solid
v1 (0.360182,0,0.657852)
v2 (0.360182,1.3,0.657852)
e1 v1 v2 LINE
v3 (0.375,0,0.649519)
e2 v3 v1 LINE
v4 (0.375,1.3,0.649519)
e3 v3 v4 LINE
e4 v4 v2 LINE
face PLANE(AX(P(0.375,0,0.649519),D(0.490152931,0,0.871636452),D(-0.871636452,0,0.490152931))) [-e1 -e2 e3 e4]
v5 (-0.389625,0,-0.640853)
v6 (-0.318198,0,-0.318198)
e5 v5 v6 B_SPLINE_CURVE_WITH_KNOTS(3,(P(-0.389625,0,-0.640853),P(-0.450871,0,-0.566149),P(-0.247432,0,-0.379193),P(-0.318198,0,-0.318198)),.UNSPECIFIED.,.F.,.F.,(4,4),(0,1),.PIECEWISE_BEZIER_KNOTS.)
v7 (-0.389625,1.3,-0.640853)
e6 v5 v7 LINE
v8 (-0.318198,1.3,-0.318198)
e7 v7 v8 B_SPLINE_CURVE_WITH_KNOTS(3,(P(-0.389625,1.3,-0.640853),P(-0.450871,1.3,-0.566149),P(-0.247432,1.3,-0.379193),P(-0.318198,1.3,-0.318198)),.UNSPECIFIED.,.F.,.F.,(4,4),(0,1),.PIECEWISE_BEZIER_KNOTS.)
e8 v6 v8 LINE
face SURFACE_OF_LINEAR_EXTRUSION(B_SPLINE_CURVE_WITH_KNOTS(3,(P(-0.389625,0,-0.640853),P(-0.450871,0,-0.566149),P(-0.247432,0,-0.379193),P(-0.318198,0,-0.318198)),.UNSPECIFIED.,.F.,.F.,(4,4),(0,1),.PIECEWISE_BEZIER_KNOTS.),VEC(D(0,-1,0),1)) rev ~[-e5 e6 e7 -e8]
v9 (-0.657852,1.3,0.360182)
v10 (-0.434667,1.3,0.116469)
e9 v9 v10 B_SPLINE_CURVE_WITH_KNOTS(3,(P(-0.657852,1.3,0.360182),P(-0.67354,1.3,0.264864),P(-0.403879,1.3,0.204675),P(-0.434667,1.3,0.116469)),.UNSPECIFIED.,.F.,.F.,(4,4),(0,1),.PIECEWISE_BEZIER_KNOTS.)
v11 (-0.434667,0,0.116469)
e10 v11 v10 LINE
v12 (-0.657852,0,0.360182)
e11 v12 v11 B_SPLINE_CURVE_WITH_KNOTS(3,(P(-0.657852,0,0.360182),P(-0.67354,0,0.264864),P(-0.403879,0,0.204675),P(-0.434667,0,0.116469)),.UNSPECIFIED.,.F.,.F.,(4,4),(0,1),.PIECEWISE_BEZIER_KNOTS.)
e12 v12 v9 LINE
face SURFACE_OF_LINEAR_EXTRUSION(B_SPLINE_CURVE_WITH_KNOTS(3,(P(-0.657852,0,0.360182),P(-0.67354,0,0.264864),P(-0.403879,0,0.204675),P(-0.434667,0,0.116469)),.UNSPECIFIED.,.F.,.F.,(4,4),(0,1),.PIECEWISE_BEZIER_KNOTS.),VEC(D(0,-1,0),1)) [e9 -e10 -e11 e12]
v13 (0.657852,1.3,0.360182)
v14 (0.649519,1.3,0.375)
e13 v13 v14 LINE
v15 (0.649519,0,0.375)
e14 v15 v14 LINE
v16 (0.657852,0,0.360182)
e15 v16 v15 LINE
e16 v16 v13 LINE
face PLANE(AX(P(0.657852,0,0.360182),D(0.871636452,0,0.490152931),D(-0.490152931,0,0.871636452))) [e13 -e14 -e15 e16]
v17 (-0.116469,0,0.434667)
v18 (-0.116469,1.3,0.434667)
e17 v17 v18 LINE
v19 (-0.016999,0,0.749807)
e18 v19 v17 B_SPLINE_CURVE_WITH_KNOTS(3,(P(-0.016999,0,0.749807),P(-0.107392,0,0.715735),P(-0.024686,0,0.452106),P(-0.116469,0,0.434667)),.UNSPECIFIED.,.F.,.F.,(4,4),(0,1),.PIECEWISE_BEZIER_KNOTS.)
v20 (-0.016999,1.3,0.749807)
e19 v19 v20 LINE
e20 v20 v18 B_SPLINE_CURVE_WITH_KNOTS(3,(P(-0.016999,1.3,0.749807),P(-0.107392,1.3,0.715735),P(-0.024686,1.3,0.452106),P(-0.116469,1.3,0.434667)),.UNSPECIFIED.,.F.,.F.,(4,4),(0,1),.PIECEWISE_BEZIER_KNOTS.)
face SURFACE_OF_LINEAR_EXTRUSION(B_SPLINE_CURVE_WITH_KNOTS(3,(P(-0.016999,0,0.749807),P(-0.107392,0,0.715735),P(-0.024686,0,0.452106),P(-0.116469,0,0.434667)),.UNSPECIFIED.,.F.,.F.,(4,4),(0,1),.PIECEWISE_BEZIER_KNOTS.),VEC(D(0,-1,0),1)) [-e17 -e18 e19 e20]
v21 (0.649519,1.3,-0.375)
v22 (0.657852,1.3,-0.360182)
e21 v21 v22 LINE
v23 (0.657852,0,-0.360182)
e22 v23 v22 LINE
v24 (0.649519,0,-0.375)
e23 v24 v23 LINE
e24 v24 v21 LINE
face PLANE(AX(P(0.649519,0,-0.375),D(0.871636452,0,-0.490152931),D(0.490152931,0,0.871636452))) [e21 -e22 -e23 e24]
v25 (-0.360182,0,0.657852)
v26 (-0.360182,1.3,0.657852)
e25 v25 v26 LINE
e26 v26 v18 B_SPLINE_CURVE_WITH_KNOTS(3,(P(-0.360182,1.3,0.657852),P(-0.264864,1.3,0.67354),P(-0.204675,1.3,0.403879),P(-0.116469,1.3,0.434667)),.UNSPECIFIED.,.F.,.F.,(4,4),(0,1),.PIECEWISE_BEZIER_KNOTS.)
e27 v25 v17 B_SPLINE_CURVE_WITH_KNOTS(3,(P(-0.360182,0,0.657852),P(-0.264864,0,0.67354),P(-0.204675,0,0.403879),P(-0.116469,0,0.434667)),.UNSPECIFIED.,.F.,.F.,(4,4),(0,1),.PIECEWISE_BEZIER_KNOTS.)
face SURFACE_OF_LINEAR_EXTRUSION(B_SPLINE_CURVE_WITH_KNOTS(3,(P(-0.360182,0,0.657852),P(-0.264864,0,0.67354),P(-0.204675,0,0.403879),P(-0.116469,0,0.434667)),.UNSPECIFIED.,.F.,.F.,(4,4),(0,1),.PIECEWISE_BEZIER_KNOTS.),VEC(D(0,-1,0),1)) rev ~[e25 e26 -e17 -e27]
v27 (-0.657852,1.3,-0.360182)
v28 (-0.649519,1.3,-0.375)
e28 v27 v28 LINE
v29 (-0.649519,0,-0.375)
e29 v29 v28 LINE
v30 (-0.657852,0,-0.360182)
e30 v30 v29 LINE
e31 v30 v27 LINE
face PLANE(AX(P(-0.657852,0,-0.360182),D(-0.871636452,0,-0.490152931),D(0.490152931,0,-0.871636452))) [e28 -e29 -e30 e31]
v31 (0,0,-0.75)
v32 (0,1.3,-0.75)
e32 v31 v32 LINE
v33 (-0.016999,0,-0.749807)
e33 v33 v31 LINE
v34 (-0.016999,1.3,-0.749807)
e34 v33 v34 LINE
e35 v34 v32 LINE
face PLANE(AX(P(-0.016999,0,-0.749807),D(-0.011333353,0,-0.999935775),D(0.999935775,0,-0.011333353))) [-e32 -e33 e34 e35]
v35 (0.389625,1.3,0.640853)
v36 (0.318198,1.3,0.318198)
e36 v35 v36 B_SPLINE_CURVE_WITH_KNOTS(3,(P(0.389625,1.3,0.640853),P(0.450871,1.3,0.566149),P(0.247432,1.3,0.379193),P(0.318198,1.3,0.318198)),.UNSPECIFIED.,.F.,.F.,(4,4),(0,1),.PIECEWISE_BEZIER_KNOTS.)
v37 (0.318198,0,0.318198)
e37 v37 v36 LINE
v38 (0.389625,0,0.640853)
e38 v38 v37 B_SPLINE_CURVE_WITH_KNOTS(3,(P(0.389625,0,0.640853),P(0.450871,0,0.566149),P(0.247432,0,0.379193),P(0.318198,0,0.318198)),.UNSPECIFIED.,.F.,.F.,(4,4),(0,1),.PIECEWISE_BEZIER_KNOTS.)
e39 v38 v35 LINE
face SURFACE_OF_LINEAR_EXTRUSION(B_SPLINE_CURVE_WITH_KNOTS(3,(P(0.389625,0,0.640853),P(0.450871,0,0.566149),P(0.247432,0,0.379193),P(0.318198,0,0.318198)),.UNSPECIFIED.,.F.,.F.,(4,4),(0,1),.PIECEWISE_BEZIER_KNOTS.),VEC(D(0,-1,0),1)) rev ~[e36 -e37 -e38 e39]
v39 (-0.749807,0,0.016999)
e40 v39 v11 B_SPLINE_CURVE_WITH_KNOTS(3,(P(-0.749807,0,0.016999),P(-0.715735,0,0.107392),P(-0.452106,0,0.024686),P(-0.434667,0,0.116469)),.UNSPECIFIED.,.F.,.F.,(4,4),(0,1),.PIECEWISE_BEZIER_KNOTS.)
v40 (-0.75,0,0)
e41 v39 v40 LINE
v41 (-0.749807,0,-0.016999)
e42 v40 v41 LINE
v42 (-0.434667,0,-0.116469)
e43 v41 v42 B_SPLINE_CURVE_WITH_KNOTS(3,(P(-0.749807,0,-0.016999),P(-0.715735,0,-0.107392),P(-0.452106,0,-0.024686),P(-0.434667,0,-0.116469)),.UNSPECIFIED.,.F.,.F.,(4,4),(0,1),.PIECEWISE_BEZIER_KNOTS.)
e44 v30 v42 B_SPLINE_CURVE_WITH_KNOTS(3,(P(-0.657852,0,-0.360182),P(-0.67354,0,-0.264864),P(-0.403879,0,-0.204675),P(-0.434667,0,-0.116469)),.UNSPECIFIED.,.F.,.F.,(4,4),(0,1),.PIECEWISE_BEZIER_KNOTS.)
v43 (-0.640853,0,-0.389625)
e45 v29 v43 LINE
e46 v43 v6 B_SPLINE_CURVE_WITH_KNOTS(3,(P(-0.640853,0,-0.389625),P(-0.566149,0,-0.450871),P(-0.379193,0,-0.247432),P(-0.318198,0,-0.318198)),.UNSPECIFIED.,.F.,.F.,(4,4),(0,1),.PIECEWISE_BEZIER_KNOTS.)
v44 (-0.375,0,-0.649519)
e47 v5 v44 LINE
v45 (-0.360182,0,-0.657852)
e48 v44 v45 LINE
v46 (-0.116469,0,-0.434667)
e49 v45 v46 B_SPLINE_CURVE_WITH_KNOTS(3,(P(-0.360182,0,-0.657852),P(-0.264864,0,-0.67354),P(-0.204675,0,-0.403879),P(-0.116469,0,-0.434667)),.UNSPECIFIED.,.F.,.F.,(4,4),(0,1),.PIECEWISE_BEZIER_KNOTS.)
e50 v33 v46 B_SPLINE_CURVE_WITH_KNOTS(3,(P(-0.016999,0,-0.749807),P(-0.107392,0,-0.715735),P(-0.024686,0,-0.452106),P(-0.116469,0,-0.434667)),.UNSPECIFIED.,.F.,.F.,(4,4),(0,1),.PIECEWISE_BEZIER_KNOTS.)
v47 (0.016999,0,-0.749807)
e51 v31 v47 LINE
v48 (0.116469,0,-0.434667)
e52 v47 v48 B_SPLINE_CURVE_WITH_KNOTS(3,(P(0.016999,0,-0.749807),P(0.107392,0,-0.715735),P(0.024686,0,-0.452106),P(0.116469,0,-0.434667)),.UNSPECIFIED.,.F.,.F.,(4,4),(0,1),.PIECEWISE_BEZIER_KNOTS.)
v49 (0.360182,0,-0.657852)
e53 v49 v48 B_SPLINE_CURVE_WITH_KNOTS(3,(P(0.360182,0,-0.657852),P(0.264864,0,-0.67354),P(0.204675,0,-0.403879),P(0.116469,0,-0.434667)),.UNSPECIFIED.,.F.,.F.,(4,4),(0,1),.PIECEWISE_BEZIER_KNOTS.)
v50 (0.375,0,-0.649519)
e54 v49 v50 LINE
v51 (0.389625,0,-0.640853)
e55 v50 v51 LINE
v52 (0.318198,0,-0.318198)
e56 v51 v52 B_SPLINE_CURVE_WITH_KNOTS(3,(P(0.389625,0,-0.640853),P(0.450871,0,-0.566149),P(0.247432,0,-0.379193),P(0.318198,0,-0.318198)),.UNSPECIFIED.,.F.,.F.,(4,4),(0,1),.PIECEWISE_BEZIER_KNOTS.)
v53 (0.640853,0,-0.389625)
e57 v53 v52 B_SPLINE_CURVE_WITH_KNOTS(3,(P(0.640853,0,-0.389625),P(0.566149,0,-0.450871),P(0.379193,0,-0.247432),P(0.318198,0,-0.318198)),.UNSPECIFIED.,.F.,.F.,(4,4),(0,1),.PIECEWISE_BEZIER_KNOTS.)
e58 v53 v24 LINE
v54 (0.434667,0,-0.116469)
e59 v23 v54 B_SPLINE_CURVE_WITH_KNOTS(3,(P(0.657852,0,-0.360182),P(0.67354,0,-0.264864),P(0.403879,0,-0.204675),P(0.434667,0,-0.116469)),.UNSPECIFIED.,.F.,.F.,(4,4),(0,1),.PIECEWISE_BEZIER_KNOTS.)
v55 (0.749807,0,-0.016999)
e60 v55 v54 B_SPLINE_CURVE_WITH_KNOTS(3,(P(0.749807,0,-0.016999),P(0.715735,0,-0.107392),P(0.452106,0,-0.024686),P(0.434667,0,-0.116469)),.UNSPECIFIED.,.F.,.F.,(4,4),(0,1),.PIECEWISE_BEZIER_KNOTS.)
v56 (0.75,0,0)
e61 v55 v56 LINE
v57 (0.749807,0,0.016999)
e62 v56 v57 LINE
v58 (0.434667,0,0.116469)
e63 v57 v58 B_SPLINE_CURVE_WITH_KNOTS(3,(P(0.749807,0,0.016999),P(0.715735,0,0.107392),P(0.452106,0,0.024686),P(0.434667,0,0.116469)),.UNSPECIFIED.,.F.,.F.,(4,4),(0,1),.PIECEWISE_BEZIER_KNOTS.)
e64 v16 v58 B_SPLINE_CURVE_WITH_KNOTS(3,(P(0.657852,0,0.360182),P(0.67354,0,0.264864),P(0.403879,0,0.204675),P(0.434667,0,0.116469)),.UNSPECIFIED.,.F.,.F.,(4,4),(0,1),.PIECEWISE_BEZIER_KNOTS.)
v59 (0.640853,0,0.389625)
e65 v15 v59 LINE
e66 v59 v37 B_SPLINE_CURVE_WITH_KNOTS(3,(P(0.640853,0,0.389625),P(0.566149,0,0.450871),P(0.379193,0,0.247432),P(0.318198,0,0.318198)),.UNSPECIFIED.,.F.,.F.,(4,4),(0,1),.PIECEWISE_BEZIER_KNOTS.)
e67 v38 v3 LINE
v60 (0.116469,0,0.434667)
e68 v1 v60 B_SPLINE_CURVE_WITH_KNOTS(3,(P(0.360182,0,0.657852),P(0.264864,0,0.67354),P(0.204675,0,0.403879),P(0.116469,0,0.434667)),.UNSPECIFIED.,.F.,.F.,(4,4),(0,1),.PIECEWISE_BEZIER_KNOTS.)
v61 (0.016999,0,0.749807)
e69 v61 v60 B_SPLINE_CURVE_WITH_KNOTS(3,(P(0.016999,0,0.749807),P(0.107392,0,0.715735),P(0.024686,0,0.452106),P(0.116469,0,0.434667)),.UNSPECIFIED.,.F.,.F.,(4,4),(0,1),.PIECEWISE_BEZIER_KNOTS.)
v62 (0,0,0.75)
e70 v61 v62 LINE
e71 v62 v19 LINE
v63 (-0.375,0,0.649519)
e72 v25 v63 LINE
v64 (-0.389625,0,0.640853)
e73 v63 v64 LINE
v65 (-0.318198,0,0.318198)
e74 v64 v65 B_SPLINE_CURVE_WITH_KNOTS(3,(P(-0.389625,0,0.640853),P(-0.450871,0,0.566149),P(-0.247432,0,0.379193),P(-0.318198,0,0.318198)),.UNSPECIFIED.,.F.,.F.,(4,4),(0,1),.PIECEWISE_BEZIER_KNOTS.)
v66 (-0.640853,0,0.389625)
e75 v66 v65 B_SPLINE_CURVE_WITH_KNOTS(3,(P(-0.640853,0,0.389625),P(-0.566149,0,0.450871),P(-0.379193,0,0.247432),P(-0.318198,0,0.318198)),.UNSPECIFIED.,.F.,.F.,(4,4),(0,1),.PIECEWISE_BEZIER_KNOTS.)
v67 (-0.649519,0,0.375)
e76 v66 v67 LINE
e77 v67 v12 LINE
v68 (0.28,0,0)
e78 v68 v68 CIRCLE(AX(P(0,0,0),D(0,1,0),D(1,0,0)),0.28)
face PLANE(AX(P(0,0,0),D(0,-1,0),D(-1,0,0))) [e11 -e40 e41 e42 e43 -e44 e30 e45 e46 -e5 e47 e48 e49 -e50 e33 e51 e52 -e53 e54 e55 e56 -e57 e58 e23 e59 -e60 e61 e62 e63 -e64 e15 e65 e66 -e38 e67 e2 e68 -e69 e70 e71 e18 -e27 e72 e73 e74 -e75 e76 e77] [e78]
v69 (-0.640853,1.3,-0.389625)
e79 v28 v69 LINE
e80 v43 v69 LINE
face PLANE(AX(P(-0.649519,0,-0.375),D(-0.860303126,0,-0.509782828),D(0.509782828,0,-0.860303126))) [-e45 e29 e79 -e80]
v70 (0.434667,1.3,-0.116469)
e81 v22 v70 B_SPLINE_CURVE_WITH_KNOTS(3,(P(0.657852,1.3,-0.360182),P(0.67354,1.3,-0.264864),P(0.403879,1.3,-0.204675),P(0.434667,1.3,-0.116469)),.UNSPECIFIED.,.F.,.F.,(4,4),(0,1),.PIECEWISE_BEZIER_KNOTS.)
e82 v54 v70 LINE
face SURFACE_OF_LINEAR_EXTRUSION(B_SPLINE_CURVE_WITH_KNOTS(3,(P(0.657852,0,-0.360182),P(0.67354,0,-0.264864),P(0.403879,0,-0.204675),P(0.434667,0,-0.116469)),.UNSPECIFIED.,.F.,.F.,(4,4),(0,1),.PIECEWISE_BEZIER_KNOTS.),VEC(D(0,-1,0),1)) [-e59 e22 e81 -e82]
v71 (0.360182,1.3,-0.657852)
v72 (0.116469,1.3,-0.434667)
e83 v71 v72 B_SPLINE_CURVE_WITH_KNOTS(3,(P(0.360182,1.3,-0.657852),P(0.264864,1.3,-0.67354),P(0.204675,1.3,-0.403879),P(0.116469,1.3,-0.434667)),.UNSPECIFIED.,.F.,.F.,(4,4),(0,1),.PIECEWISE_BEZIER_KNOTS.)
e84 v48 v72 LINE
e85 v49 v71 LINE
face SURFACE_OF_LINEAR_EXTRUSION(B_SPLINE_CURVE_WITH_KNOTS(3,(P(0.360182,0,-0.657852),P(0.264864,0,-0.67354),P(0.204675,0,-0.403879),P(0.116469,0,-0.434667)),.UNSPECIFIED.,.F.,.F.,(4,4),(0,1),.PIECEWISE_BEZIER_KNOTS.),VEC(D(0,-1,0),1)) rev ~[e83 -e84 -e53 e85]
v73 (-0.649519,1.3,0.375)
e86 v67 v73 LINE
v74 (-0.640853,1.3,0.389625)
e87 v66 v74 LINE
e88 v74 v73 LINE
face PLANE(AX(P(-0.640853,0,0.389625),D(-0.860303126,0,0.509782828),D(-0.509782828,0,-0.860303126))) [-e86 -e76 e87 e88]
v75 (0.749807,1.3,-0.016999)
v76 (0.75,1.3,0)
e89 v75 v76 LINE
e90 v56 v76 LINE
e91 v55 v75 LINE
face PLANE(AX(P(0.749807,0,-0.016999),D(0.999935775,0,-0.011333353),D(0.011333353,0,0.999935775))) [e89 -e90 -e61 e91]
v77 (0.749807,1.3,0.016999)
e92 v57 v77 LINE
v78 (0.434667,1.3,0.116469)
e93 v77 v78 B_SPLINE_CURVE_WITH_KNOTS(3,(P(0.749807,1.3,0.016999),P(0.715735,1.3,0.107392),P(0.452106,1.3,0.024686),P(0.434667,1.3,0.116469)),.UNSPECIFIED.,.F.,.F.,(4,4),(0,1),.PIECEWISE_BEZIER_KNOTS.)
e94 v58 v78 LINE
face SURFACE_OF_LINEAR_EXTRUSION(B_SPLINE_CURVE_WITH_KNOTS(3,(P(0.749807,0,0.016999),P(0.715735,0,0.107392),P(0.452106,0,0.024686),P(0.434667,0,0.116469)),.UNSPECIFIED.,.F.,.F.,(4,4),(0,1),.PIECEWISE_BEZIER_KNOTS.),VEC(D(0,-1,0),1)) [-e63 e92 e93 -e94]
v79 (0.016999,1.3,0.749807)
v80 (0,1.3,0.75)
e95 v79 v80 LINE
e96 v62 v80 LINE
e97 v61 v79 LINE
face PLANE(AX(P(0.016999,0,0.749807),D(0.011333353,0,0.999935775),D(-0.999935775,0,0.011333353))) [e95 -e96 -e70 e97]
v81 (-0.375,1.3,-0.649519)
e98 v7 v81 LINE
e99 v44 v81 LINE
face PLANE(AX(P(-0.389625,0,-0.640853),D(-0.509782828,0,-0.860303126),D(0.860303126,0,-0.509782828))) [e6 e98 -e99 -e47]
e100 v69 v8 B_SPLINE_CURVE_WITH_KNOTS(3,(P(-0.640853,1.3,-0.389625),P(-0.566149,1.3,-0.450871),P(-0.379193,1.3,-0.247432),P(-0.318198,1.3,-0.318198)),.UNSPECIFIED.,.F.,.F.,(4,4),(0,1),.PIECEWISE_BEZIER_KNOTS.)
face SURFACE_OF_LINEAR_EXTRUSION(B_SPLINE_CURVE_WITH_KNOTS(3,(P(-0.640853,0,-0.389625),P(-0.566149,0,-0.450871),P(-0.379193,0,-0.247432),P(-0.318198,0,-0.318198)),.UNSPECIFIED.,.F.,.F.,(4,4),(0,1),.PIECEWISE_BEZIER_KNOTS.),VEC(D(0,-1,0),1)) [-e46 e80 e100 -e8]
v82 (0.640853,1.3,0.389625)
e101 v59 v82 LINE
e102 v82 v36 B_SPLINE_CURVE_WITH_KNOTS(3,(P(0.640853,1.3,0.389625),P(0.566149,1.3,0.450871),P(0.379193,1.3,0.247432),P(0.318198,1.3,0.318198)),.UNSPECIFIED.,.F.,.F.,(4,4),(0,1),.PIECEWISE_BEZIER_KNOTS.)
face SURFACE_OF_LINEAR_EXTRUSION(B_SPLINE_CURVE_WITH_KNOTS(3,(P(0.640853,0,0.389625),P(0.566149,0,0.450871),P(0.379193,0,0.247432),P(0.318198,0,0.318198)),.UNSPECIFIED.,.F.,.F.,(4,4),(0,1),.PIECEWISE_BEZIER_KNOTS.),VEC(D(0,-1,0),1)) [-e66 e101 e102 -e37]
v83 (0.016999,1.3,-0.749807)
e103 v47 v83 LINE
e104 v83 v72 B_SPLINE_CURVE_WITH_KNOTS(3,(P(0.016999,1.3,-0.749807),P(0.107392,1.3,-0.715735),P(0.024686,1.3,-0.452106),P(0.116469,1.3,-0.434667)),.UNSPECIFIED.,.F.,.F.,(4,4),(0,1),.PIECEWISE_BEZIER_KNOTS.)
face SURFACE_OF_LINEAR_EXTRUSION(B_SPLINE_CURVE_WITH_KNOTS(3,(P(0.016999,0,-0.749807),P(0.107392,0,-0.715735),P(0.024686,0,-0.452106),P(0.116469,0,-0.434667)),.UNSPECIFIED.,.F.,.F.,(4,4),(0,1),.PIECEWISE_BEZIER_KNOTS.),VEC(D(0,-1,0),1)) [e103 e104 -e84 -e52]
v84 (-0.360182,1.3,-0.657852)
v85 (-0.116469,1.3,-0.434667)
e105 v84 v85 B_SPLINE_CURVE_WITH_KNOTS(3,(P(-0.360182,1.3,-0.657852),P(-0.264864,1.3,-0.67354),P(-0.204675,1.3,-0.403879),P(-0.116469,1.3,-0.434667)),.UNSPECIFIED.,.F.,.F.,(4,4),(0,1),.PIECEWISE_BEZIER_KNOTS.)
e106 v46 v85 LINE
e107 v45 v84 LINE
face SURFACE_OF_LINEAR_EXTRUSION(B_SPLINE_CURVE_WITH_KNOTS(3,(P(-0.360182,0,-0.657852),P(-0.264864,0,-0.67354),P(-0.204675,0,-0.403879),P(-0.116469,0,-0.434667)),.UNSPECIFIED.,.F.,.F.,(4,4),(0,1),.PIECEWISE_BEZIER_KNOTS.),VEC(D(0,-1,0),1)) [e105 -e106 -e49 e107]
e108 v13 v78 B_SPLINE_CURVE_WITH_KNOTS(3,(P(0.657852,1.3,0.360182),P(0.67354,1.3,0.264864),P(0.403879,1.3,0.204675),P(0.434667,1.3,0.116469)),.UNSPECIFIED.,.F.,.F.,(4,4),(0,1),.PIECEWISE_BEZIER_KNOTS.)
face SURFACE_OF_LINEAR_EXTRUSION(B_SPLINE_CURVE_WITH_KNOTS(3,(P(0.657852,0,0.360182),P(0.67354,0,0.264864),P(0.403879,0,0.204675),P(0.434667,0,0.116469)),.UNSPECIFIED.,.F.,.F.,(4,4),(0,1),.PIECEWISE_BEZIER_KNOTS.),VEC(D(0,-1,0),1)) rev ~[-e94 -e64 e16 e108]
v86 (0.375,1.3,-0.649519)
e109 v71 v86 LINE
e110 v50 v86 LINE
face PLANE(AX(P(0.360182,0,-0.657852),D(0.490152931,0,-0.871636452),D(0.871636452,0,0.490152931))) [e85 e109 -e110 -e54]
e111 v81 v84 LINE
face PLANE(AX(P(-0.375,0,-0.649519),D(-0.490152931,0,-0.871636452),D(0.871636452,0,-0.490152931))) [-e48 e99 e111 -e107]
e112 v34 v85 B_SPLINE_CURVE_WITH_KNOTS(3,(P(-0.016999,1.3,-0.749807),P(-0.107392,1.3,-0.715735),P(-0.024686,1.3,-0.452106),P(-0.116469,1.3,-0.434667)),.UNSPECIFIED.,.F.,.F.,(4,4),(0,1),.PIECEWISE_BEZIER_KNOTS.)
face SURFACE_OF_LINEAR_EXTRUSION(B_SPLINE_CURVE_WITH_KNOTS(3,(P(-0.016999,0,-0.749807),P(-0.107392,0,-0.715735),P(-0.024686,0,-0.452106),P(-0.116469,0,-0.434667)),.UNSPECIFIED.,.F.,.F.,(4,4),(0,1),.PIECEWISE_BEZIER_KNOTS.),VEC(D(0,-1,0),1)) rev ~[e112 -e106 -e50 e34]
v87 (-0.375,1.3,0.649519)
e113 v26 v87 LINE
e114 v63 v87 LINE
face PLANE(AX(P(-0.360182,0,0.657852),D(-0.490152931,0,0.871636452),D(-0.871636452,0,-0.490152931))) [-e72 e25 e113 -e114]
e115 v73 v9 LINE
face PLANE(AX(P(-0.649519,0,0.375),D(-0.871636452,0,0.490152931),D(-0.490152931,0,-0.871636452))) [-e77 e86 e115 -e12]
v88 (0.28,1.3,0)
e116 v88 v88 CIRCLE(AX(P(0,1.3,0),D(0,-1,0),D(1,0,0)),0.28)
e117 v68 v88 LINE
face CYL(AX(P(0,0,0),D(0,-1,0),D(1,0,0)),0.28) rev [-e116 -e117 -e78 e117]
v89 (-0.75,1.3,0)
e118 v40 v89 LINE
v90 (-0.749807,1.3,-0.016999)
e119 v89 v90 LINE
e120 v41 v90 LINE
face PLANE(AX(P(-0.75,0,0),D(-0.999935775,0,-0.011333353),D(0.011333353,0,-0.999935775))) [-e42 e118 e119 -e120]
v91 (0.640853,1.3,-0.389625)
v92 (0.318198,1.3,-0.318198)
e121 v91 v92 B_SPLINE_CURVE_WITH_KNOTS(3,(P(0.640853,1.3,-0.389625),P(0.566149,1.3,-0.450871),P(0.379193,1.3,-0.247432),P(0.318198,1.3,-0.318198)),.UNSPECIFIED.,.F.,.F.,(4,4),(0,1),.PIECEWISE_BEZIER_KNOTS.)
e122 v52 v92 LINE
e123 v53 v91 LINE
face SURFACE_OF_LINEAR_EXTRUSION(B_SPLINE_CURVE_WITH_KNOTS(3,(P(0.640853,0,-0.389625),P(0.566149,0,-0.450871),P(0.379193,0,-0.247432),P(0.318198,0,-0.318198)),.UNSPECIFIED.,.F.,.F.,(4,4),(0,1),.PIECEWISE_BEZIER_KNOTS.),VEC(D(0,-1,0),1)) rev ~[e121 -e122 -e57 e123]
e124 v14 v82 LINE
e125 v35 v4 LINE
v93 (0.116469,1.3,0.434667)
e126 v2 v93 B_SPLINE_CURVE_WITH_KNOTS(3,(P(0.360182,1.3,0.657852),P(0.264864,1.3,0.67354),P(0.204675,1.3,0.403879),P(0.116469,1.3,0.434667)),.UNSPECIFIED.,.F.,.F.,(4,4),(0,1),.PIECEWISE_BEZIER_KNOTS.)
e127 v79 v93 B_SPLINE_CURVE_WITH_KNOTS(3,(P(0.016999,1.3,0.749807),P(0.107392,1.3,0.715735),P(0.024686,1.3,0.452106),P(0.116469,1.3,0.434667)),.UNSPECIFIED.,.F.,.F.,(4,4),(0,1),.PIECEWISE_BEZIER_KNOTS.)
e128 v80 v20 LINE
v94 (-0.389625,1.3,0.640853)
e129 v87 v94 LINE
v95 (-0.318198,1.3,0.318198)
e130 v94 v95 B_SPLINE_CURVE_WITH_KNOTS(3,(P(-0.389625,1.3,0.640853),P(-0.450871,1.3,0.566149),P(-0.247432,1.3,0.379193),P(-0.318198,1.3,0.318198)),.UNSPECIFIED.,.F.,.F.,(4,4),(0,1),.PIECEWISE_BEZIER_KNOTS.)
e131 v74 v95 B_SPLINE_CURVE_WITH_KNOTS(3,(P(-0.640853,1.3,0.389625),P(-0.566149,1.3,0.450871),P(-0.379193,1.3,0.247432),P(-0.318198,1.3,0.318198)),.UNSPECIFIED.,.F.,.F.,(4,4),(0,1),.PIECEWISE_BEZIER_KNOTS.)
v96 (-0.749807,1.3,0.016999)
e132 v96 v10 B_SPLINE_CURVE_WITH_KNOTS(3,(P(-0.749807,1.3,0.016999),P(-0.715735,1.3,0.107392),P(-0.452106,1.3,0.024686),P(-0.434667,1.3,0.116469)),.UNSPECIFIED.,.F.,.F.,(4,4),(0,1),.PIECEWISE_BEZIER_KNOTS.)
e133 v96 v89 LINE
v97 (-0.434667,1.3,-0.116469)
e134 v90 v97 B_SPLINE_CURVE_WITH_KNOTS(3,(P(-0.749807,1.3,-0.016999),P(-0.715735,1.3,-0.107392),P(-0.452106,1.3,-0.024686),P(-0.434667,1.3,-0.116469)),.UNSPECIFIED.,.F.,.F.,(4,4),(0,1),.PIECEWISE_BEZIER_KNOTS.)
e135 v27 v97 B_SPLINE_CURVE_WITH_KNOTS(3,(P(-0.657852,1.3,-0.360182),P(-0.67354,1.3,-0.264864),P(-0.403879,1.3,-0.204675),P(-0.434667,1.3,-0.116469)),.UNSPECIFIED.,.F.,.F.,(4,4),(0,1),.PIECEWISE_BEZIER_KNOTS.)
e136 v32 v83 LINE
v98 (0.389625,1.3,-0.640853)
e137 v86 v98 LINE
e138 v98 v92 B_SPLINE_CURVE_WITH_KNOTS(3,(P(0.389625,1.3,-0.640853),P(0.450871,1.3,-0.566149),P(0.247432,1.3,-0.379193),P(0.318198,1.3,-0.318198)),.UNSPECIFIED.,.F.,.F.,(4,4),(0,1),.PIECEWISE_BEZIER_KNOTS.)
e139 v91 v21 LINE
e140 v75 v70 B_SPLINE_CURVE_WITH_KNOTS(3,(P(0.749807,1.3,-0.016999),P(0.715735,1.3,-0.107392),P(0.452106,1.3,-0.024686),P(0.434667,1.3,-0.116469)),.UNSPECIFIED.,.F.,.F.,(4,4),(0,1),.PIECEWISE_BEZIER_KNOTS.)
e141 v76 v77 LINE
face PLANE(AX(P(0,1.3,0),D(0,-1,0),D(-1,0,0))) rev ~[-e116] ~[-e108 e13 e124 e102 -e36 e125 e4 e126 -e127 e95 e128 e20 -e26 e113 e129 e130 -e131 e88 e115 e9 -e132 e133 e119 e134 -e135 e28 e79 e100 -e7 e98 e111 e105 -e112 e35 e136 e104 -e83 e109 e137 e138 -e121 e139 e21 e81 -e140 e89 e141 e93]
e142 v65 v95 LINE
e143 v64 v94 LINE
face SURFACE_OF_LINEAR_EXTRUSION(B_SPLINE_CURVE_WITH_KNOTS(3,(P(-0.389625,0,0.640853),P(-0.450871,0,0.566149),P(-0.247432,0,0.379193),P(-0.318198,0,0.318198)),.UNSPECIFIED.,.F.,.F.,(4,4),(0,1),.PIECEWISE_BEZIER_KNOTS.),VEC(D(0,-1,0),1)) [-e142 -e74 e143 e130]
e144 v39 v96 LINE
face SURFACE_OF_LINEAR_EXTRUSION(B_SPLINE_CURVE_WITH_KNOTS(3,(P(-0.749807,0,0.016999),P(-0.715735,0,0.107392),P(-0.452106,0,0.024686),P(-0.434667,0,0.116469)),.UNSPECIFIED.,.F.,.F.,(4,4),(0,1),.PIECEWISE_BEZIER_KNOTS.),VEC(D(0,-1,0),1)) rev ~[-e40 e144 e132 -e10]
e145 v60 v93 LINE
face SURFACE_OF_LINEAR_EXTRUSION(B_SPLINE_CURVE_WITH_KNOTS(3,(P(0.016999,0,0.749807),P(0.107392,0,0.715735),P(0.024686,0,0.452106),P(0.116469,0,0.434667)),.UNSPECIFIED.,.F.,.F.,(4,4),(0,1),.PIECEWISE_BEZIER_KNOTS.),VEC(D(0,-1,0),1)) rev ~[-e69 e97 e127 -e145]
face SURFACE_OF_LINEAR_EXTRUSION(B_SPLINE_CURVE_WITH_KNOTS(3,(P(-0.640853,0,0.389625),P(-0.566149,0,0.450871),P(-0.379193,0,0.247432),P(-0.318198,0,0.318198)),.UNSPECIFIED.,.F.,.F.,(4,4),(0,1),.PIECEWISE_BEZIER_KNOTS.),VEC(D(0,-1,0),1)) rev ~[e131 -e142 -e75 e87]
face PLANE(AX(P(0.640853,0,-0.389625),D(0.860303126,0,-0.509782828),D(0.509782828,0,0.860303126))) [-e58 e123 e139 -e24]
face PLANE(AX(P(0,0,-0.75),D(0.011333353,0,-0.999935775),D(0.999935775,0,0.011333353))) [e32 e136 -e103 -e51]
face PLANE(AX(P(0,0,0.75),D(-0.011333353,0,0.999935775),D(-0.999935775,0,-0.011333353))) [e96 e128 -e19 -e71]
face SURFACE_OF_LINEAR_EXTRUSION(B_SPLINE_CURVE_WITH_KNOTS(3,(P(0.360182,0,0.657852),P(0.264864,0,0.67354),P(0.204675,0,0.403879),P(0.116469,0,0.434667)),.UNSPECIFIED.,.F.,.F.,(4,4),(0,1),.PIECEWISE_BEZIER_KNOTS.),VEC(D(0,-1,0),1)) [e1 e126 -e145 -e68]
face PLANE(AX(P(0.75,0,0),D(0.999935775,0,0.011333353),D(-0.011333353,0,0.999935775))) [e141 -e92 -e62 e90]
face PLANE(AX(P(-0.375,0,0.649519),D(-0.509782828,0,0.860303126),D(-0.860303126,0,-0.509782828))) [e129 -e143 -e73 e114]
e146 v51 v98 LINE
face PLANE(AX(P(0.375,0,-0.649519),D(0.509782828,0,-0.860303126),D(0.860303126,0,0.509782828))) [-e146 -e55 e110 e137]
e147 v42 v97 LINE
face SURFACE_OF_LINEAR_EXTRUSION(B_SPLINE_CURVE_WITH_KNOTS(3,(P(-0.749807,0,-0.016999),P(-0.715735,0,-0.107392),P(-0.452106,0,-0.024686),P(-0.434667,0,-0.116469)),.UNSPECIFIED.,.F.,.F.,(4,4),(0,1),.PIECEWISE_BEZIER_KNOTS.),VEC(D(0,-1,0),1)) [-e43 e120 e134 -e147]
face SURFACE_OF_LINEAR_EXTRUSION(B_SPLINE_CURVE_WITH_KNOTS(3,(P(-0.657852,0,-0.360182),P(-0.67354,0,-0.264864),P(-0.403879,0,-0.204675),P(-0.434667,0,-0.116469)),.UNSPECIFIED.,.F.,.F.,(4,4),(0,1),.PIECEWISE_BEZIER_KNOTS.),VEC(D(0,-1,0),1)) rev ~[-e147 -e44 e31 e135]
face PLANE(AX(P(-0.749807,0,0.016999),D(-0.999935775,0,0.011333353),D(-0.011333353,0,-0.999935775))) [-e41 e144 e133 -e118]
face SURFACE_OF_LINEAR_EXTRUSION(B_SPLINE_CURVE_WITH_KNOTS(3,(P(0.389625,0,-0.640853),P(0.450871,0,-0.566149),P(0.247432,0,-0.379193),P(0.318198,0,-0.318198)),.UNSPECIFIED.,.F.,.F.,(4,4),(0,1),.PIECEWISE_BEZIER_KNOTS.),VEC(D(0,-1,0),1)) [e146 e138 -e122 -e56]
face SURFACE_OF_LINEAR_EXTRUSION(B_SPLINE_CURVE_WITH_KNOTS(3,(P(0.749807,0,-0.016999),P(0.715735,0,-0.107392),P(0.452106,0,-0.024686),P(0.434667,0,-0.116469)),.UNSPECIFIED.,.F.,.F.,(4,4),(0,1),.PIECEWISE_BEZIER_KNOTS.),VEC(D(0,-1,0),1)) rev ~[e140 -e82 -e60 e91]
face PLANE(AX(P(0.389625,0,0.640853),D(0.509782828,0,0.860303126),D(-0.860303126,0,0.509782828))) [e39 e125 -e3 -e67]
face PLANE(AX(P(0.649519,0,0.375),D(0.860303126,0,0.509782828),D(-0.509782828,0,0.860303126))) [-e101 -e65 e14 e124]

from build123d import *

# Parameters (mm, degrees)
BOSS_EXTRUDE1_12_TEETH_DEPTH = 1.3
CUT_EXTRUDE1_REACH           = 3.3
SKETCH2_R                    = 0.28


with BuildPart() as part:
    # Sketch1 → Boss-Extrude1 (12 teeth) (new body)
    with BuildSketch(Plane(origin=(0, 0, 0), x_dir=(1, 0, 0), z_dir=(0, 1, 0))):
        with BuildLine():
            Line((0, 0.75), (0.016998908, 0.749807333))
            add(Edge.make_bspline(
                [(0.016998908, 0.749807333), (0.1073915, 0.715734638), (0.02468594, 0.452106326), (0.11646857, 0.434666622)],
                knots=[0, 0, 0, 0, 1, 1, 1, 1], degree=3))
            add(Edge.make_bspline(
                [(0.36018218, 0.657851653), (0.264863552, 0.673540129), (0.204674512, 0.403878534), (0.11646857, 0.434666622)],
                knots=[0, 0, 0, 0, 1, 1, 1, 1], degree=3))
            Line((0.36018218, 0.657851653), (0.375, 0.649519053))
            Line((0.375, 0.649519053), (0.389625153, 0.640852745))
            add(Edge.make_bspline(
                [(0.389625153, 0.640852745), (0.450871086, 0.566148629), (0.247431814, 0.379192594), (0.318198052, 0.318198052)],
                knots=[0, 0, 0, 0, 1, 1, 1, 1], degree=3))
            add(Edge.make_bspline(
                [(0.640852745, 0.389625153), (0.566148629, 0.450871086), (0.379192594, 0.247431814), (0.318198052, 0.318198052)],
                knots=[0, 0, 0, 0, 1, 1, 1, 1], degree=3))
            Line((0.640852745, 0.389625153), (0.649519053, 0.375))
            Line((0.649519053, 0.375), (0.657851653, 0.36018218))
            add(Edge.make_bspline(
                [(0.657851653, 0.36018218), (0.673540129, 0.264863552), (0.403878534, 0.204674512), (0.434666622, 0.11646857)],
                knots=[0, 0, 0, 0, 1, 1, 1, 1], degree=3))
            add(Edge.make_bspline(
                [(0.749807333, 0.016998908), (0.715734638, 0.1073915), (0.452106326, 0.02468594), (0.434666622, 0.11646857)],
                knots=[0, 0, 0, 0, 1, 1, 1, 1], degree=3))
            Line((0.749807333, 0.016998908), (0.75, 0))
            Line((0.75, 0), (0.749807333, -0.016998908))
            add(Edge.make_bspline(
                [(0.749807333, -0.016998908), (0.715734638, -0.1073915), (0.452106326, -0.02468594), (0.434666622, -0.11646857)],
                knots=[0, 0, 0, 0, 1, 1, 1, 1], degree=3))
            add(Edge.make_bspline(
                [(0.657851653, -0.36018218), (0.673540129, -0.264863552), (0.403878534, -0.204674512), (0.434666622, -0.11646857)],
                knots=[0, 0, 0, 0, 1, 1, 1, 1], degree=3))
            Line((0.657851653, -0.36018218), (0.649519053, -0.375))
            Line((0.649519053, -0.375), (0.640852745, -0.389625153))
            add(Edge.make_bspline(
                [(0.640852745, -0.389625153), (0.566148629, -0.450871086), (0.379192594, -0.247431814), (0.318198052, -0.318198052)],
                knots=[0, 0, 0, 0, 1, 1, 1, 1], degree=3))
            add(Edge.make_bspline(
                [(0.389625153, -0.640852745), (0.450871086, -0.566148629), (0.247431814, -0.379192594), (0.318198052, -0.318198052)],
                knots=[0, 0, 0, 0, 1, 1, 1, 1], degree=3))
            Line((0.389625153, -0.640852745), (0.375, -0.649519053))
            Line((0.375, -0.649519053), (0.36018218, -0.657851653))
            add(Edge.make_bspline(
                [(0.36018218, -0.657851653), (0.264863552, -0.673540129), (0.204674512, -0.403878534), (0.11646857, -0.434666622)],
                knots=[0, 0, 0, 0, 1, 1, 1, 1], degree=3))
            add(Edge.make_bspline(
                [(0.016998908, -0.749807333), (0.1073915, -0.715734638), (0.02468594, -0.452106326), (0.11646857, -0.434666622)],
                knots=[0, 0, 0, 0, 1, 1, 1, 1], degree=3))
            Line((0.016998908, -0.749807333), (0, -0.75))
            Line((0, -0.75), (-0.016998908, -0.749807333))
            add(Edge.make_bspline(
                [(-0.016998908, -0.749807333), (-0.1073915, -0.715734638), (-0.02468594, -0.452106326), (-0.11646857, -0.434666622)],
                knots=[0, 0, 0, 0, 1, 1, 1, 1], degree=3))
            add(Edge.make_bspline(
                [(-0.36018218, -0.657851653), (-0.264863552, -0.673540129), (-0.204674512, -0.403878534), (-0.11646857, -0.434666622)],
                knots=[0, 0, 0, 0, 1, 1, 1, 1], degree=3))
            Line((-0.36018218, -0.657851653), (-0.375, -0.649519053))
            Line((-0.375, -0.649519053), (-0.389625153, -0.640852745))
            add(Edge.make_bspline(
                [(-0.389625153, -0.640852745), (-0.450871086, -0.566148629), (-0.247431814, -0.379192594), (-0.318198052, -0.318198052)],
                knots=[0, 0, 0, 0, 1, 1, 1, 1], degree=3))
            add(Edge.make_bspline(
                [(-0.640852745, -0.389625153), (-0.566148629, -0.450871086), (-0.379192594, -0.247431814), (-0.318198052, -0.318198052)],
                knots=[0, 0, 0, 0, 1, 1, 1, 1], degree=3))
            Line((-0.640852745, -0.389625153), (-0.649519053, -0.375))
            Line((-0.649519053, -0.375), (-0.657851653, -0.36018218))
            add(Edge.make_bspline(
                [(-0.657851653, -0.36018218), (-0.673540129, -0.264863552), (-0.403878534, -0.204674512), (-0.434666622, -0.11646857)],
                knots=[0, 0, 0, 0, 1, 1, 1, 1], degree=3))
            add(Edge.make_bspline(
                [(-0.749807333, -0.016998908), (-0.715734638, -0.1073915), (-0.452106326, -0.02468594), (-0.434666622, -0.11646857)],
                knots=[0, 0, 0, 0, 1, 1, 1, 1], degree=3))
            Line((-0.749807333, -0.016998908), (-0.75, 0))
            Line((-0.75, 0), (-0.749807333, 0.016998908))
            add(Edge.make_bspline(
                [(-0.749807333, 0.016998908), (-0.715734638, 0.1073915), (-0.452106326, 0.02468594), (-0.434666622, 0.11646857)],
                knots=[0, 0, 0, 0, 1, 1, 1, 1], degree=3))
            add(Edge.make_bspline(
                [(-0.657851653, 0.36018218), (-0.673540129, 0.264863552), (-0.403878534, 0.204674512), (-0.434666622, 0.11646857)],
                knots=[0, 0, 0, 0, 1, 1, 1, 1], degree=3))
            Line((-0.657851653, 0.36018218), (-0.649519053, 0.375))
            Line((-0.649519053, 0.375), (-0.640852745, 0.389625153))
            add(Edge.make_bspline(
                [(-0.640852745, 0.389625153), (-0.566148629, 0.450871086), (-0.379192594, 0.247431814), (-0.318198052, 0.318198052)],
                knots=[0, 0, 0, 0, 1, 1, 1, 1], degree=3))
            add(Edge.make_bspline(
                [(-0.389625153, 0.640852745), (-0.450871086, 0.566148629), (-0.247431814, 0.379192594), (-0.318198052, 0.318198052)],
                knots=[0, 0, 0, 0, 1, 1, 1, 1], degree=3))
            Line((-0.389625153, 0.640852745), (-0.375, 0.649519053))
            Line((-0.375, 0.649519053), (-0.36018218, 0.657851653))
            add(Edge.make_bspline(
                [(-0.36018218, 0.657851653), (-0.264863552, 0.673540129), (-0.204674512, 0.403878534), (-0.11646857, 0.434666622)],
                knots=[0, 0, 0, 0, 1, 1, 1, 1], degree=3))
            add(Edge.make_bspline(
                [(-0.016998908, 0.749807333), (-0.1073915, 0.715734638), (-0.02468594, 0.452106326), (-0.11646857, 0.434666622)],
                knots=[0, 0, 0, 0, 1, 1, 1, 1], degree=3))
            Line((-0.016998908, 0.749807333), (0, 0.75))
        make_face()
    extrude(amount=BOSS_EXTRUDE1_12_TEETH_DEPTH)

    # Sketch2 → Cut-Extrude1 (cut, up to next)
    with BuildSketch(Plane(origin=(0, 0, 0), x_dir=(1, 0, 0), z_dir=(0, 1, 0)), mode=Mode.PRIVATE) as cut_extrude1_sk1:
        Circle(SKETCH2_R)
    cut_extrude1_tool1 = extrude(cut_extrude1_sk1.sketch, amount=CUT_EXTRUDE1_REACH, mode=Mode.PRIVATE) & part.part
    add(cut_extrude1_tool1.solids().sort_by_distance((0, 0, 0))[0], mode=Mode.SUBTRACT)


solid = part.part
